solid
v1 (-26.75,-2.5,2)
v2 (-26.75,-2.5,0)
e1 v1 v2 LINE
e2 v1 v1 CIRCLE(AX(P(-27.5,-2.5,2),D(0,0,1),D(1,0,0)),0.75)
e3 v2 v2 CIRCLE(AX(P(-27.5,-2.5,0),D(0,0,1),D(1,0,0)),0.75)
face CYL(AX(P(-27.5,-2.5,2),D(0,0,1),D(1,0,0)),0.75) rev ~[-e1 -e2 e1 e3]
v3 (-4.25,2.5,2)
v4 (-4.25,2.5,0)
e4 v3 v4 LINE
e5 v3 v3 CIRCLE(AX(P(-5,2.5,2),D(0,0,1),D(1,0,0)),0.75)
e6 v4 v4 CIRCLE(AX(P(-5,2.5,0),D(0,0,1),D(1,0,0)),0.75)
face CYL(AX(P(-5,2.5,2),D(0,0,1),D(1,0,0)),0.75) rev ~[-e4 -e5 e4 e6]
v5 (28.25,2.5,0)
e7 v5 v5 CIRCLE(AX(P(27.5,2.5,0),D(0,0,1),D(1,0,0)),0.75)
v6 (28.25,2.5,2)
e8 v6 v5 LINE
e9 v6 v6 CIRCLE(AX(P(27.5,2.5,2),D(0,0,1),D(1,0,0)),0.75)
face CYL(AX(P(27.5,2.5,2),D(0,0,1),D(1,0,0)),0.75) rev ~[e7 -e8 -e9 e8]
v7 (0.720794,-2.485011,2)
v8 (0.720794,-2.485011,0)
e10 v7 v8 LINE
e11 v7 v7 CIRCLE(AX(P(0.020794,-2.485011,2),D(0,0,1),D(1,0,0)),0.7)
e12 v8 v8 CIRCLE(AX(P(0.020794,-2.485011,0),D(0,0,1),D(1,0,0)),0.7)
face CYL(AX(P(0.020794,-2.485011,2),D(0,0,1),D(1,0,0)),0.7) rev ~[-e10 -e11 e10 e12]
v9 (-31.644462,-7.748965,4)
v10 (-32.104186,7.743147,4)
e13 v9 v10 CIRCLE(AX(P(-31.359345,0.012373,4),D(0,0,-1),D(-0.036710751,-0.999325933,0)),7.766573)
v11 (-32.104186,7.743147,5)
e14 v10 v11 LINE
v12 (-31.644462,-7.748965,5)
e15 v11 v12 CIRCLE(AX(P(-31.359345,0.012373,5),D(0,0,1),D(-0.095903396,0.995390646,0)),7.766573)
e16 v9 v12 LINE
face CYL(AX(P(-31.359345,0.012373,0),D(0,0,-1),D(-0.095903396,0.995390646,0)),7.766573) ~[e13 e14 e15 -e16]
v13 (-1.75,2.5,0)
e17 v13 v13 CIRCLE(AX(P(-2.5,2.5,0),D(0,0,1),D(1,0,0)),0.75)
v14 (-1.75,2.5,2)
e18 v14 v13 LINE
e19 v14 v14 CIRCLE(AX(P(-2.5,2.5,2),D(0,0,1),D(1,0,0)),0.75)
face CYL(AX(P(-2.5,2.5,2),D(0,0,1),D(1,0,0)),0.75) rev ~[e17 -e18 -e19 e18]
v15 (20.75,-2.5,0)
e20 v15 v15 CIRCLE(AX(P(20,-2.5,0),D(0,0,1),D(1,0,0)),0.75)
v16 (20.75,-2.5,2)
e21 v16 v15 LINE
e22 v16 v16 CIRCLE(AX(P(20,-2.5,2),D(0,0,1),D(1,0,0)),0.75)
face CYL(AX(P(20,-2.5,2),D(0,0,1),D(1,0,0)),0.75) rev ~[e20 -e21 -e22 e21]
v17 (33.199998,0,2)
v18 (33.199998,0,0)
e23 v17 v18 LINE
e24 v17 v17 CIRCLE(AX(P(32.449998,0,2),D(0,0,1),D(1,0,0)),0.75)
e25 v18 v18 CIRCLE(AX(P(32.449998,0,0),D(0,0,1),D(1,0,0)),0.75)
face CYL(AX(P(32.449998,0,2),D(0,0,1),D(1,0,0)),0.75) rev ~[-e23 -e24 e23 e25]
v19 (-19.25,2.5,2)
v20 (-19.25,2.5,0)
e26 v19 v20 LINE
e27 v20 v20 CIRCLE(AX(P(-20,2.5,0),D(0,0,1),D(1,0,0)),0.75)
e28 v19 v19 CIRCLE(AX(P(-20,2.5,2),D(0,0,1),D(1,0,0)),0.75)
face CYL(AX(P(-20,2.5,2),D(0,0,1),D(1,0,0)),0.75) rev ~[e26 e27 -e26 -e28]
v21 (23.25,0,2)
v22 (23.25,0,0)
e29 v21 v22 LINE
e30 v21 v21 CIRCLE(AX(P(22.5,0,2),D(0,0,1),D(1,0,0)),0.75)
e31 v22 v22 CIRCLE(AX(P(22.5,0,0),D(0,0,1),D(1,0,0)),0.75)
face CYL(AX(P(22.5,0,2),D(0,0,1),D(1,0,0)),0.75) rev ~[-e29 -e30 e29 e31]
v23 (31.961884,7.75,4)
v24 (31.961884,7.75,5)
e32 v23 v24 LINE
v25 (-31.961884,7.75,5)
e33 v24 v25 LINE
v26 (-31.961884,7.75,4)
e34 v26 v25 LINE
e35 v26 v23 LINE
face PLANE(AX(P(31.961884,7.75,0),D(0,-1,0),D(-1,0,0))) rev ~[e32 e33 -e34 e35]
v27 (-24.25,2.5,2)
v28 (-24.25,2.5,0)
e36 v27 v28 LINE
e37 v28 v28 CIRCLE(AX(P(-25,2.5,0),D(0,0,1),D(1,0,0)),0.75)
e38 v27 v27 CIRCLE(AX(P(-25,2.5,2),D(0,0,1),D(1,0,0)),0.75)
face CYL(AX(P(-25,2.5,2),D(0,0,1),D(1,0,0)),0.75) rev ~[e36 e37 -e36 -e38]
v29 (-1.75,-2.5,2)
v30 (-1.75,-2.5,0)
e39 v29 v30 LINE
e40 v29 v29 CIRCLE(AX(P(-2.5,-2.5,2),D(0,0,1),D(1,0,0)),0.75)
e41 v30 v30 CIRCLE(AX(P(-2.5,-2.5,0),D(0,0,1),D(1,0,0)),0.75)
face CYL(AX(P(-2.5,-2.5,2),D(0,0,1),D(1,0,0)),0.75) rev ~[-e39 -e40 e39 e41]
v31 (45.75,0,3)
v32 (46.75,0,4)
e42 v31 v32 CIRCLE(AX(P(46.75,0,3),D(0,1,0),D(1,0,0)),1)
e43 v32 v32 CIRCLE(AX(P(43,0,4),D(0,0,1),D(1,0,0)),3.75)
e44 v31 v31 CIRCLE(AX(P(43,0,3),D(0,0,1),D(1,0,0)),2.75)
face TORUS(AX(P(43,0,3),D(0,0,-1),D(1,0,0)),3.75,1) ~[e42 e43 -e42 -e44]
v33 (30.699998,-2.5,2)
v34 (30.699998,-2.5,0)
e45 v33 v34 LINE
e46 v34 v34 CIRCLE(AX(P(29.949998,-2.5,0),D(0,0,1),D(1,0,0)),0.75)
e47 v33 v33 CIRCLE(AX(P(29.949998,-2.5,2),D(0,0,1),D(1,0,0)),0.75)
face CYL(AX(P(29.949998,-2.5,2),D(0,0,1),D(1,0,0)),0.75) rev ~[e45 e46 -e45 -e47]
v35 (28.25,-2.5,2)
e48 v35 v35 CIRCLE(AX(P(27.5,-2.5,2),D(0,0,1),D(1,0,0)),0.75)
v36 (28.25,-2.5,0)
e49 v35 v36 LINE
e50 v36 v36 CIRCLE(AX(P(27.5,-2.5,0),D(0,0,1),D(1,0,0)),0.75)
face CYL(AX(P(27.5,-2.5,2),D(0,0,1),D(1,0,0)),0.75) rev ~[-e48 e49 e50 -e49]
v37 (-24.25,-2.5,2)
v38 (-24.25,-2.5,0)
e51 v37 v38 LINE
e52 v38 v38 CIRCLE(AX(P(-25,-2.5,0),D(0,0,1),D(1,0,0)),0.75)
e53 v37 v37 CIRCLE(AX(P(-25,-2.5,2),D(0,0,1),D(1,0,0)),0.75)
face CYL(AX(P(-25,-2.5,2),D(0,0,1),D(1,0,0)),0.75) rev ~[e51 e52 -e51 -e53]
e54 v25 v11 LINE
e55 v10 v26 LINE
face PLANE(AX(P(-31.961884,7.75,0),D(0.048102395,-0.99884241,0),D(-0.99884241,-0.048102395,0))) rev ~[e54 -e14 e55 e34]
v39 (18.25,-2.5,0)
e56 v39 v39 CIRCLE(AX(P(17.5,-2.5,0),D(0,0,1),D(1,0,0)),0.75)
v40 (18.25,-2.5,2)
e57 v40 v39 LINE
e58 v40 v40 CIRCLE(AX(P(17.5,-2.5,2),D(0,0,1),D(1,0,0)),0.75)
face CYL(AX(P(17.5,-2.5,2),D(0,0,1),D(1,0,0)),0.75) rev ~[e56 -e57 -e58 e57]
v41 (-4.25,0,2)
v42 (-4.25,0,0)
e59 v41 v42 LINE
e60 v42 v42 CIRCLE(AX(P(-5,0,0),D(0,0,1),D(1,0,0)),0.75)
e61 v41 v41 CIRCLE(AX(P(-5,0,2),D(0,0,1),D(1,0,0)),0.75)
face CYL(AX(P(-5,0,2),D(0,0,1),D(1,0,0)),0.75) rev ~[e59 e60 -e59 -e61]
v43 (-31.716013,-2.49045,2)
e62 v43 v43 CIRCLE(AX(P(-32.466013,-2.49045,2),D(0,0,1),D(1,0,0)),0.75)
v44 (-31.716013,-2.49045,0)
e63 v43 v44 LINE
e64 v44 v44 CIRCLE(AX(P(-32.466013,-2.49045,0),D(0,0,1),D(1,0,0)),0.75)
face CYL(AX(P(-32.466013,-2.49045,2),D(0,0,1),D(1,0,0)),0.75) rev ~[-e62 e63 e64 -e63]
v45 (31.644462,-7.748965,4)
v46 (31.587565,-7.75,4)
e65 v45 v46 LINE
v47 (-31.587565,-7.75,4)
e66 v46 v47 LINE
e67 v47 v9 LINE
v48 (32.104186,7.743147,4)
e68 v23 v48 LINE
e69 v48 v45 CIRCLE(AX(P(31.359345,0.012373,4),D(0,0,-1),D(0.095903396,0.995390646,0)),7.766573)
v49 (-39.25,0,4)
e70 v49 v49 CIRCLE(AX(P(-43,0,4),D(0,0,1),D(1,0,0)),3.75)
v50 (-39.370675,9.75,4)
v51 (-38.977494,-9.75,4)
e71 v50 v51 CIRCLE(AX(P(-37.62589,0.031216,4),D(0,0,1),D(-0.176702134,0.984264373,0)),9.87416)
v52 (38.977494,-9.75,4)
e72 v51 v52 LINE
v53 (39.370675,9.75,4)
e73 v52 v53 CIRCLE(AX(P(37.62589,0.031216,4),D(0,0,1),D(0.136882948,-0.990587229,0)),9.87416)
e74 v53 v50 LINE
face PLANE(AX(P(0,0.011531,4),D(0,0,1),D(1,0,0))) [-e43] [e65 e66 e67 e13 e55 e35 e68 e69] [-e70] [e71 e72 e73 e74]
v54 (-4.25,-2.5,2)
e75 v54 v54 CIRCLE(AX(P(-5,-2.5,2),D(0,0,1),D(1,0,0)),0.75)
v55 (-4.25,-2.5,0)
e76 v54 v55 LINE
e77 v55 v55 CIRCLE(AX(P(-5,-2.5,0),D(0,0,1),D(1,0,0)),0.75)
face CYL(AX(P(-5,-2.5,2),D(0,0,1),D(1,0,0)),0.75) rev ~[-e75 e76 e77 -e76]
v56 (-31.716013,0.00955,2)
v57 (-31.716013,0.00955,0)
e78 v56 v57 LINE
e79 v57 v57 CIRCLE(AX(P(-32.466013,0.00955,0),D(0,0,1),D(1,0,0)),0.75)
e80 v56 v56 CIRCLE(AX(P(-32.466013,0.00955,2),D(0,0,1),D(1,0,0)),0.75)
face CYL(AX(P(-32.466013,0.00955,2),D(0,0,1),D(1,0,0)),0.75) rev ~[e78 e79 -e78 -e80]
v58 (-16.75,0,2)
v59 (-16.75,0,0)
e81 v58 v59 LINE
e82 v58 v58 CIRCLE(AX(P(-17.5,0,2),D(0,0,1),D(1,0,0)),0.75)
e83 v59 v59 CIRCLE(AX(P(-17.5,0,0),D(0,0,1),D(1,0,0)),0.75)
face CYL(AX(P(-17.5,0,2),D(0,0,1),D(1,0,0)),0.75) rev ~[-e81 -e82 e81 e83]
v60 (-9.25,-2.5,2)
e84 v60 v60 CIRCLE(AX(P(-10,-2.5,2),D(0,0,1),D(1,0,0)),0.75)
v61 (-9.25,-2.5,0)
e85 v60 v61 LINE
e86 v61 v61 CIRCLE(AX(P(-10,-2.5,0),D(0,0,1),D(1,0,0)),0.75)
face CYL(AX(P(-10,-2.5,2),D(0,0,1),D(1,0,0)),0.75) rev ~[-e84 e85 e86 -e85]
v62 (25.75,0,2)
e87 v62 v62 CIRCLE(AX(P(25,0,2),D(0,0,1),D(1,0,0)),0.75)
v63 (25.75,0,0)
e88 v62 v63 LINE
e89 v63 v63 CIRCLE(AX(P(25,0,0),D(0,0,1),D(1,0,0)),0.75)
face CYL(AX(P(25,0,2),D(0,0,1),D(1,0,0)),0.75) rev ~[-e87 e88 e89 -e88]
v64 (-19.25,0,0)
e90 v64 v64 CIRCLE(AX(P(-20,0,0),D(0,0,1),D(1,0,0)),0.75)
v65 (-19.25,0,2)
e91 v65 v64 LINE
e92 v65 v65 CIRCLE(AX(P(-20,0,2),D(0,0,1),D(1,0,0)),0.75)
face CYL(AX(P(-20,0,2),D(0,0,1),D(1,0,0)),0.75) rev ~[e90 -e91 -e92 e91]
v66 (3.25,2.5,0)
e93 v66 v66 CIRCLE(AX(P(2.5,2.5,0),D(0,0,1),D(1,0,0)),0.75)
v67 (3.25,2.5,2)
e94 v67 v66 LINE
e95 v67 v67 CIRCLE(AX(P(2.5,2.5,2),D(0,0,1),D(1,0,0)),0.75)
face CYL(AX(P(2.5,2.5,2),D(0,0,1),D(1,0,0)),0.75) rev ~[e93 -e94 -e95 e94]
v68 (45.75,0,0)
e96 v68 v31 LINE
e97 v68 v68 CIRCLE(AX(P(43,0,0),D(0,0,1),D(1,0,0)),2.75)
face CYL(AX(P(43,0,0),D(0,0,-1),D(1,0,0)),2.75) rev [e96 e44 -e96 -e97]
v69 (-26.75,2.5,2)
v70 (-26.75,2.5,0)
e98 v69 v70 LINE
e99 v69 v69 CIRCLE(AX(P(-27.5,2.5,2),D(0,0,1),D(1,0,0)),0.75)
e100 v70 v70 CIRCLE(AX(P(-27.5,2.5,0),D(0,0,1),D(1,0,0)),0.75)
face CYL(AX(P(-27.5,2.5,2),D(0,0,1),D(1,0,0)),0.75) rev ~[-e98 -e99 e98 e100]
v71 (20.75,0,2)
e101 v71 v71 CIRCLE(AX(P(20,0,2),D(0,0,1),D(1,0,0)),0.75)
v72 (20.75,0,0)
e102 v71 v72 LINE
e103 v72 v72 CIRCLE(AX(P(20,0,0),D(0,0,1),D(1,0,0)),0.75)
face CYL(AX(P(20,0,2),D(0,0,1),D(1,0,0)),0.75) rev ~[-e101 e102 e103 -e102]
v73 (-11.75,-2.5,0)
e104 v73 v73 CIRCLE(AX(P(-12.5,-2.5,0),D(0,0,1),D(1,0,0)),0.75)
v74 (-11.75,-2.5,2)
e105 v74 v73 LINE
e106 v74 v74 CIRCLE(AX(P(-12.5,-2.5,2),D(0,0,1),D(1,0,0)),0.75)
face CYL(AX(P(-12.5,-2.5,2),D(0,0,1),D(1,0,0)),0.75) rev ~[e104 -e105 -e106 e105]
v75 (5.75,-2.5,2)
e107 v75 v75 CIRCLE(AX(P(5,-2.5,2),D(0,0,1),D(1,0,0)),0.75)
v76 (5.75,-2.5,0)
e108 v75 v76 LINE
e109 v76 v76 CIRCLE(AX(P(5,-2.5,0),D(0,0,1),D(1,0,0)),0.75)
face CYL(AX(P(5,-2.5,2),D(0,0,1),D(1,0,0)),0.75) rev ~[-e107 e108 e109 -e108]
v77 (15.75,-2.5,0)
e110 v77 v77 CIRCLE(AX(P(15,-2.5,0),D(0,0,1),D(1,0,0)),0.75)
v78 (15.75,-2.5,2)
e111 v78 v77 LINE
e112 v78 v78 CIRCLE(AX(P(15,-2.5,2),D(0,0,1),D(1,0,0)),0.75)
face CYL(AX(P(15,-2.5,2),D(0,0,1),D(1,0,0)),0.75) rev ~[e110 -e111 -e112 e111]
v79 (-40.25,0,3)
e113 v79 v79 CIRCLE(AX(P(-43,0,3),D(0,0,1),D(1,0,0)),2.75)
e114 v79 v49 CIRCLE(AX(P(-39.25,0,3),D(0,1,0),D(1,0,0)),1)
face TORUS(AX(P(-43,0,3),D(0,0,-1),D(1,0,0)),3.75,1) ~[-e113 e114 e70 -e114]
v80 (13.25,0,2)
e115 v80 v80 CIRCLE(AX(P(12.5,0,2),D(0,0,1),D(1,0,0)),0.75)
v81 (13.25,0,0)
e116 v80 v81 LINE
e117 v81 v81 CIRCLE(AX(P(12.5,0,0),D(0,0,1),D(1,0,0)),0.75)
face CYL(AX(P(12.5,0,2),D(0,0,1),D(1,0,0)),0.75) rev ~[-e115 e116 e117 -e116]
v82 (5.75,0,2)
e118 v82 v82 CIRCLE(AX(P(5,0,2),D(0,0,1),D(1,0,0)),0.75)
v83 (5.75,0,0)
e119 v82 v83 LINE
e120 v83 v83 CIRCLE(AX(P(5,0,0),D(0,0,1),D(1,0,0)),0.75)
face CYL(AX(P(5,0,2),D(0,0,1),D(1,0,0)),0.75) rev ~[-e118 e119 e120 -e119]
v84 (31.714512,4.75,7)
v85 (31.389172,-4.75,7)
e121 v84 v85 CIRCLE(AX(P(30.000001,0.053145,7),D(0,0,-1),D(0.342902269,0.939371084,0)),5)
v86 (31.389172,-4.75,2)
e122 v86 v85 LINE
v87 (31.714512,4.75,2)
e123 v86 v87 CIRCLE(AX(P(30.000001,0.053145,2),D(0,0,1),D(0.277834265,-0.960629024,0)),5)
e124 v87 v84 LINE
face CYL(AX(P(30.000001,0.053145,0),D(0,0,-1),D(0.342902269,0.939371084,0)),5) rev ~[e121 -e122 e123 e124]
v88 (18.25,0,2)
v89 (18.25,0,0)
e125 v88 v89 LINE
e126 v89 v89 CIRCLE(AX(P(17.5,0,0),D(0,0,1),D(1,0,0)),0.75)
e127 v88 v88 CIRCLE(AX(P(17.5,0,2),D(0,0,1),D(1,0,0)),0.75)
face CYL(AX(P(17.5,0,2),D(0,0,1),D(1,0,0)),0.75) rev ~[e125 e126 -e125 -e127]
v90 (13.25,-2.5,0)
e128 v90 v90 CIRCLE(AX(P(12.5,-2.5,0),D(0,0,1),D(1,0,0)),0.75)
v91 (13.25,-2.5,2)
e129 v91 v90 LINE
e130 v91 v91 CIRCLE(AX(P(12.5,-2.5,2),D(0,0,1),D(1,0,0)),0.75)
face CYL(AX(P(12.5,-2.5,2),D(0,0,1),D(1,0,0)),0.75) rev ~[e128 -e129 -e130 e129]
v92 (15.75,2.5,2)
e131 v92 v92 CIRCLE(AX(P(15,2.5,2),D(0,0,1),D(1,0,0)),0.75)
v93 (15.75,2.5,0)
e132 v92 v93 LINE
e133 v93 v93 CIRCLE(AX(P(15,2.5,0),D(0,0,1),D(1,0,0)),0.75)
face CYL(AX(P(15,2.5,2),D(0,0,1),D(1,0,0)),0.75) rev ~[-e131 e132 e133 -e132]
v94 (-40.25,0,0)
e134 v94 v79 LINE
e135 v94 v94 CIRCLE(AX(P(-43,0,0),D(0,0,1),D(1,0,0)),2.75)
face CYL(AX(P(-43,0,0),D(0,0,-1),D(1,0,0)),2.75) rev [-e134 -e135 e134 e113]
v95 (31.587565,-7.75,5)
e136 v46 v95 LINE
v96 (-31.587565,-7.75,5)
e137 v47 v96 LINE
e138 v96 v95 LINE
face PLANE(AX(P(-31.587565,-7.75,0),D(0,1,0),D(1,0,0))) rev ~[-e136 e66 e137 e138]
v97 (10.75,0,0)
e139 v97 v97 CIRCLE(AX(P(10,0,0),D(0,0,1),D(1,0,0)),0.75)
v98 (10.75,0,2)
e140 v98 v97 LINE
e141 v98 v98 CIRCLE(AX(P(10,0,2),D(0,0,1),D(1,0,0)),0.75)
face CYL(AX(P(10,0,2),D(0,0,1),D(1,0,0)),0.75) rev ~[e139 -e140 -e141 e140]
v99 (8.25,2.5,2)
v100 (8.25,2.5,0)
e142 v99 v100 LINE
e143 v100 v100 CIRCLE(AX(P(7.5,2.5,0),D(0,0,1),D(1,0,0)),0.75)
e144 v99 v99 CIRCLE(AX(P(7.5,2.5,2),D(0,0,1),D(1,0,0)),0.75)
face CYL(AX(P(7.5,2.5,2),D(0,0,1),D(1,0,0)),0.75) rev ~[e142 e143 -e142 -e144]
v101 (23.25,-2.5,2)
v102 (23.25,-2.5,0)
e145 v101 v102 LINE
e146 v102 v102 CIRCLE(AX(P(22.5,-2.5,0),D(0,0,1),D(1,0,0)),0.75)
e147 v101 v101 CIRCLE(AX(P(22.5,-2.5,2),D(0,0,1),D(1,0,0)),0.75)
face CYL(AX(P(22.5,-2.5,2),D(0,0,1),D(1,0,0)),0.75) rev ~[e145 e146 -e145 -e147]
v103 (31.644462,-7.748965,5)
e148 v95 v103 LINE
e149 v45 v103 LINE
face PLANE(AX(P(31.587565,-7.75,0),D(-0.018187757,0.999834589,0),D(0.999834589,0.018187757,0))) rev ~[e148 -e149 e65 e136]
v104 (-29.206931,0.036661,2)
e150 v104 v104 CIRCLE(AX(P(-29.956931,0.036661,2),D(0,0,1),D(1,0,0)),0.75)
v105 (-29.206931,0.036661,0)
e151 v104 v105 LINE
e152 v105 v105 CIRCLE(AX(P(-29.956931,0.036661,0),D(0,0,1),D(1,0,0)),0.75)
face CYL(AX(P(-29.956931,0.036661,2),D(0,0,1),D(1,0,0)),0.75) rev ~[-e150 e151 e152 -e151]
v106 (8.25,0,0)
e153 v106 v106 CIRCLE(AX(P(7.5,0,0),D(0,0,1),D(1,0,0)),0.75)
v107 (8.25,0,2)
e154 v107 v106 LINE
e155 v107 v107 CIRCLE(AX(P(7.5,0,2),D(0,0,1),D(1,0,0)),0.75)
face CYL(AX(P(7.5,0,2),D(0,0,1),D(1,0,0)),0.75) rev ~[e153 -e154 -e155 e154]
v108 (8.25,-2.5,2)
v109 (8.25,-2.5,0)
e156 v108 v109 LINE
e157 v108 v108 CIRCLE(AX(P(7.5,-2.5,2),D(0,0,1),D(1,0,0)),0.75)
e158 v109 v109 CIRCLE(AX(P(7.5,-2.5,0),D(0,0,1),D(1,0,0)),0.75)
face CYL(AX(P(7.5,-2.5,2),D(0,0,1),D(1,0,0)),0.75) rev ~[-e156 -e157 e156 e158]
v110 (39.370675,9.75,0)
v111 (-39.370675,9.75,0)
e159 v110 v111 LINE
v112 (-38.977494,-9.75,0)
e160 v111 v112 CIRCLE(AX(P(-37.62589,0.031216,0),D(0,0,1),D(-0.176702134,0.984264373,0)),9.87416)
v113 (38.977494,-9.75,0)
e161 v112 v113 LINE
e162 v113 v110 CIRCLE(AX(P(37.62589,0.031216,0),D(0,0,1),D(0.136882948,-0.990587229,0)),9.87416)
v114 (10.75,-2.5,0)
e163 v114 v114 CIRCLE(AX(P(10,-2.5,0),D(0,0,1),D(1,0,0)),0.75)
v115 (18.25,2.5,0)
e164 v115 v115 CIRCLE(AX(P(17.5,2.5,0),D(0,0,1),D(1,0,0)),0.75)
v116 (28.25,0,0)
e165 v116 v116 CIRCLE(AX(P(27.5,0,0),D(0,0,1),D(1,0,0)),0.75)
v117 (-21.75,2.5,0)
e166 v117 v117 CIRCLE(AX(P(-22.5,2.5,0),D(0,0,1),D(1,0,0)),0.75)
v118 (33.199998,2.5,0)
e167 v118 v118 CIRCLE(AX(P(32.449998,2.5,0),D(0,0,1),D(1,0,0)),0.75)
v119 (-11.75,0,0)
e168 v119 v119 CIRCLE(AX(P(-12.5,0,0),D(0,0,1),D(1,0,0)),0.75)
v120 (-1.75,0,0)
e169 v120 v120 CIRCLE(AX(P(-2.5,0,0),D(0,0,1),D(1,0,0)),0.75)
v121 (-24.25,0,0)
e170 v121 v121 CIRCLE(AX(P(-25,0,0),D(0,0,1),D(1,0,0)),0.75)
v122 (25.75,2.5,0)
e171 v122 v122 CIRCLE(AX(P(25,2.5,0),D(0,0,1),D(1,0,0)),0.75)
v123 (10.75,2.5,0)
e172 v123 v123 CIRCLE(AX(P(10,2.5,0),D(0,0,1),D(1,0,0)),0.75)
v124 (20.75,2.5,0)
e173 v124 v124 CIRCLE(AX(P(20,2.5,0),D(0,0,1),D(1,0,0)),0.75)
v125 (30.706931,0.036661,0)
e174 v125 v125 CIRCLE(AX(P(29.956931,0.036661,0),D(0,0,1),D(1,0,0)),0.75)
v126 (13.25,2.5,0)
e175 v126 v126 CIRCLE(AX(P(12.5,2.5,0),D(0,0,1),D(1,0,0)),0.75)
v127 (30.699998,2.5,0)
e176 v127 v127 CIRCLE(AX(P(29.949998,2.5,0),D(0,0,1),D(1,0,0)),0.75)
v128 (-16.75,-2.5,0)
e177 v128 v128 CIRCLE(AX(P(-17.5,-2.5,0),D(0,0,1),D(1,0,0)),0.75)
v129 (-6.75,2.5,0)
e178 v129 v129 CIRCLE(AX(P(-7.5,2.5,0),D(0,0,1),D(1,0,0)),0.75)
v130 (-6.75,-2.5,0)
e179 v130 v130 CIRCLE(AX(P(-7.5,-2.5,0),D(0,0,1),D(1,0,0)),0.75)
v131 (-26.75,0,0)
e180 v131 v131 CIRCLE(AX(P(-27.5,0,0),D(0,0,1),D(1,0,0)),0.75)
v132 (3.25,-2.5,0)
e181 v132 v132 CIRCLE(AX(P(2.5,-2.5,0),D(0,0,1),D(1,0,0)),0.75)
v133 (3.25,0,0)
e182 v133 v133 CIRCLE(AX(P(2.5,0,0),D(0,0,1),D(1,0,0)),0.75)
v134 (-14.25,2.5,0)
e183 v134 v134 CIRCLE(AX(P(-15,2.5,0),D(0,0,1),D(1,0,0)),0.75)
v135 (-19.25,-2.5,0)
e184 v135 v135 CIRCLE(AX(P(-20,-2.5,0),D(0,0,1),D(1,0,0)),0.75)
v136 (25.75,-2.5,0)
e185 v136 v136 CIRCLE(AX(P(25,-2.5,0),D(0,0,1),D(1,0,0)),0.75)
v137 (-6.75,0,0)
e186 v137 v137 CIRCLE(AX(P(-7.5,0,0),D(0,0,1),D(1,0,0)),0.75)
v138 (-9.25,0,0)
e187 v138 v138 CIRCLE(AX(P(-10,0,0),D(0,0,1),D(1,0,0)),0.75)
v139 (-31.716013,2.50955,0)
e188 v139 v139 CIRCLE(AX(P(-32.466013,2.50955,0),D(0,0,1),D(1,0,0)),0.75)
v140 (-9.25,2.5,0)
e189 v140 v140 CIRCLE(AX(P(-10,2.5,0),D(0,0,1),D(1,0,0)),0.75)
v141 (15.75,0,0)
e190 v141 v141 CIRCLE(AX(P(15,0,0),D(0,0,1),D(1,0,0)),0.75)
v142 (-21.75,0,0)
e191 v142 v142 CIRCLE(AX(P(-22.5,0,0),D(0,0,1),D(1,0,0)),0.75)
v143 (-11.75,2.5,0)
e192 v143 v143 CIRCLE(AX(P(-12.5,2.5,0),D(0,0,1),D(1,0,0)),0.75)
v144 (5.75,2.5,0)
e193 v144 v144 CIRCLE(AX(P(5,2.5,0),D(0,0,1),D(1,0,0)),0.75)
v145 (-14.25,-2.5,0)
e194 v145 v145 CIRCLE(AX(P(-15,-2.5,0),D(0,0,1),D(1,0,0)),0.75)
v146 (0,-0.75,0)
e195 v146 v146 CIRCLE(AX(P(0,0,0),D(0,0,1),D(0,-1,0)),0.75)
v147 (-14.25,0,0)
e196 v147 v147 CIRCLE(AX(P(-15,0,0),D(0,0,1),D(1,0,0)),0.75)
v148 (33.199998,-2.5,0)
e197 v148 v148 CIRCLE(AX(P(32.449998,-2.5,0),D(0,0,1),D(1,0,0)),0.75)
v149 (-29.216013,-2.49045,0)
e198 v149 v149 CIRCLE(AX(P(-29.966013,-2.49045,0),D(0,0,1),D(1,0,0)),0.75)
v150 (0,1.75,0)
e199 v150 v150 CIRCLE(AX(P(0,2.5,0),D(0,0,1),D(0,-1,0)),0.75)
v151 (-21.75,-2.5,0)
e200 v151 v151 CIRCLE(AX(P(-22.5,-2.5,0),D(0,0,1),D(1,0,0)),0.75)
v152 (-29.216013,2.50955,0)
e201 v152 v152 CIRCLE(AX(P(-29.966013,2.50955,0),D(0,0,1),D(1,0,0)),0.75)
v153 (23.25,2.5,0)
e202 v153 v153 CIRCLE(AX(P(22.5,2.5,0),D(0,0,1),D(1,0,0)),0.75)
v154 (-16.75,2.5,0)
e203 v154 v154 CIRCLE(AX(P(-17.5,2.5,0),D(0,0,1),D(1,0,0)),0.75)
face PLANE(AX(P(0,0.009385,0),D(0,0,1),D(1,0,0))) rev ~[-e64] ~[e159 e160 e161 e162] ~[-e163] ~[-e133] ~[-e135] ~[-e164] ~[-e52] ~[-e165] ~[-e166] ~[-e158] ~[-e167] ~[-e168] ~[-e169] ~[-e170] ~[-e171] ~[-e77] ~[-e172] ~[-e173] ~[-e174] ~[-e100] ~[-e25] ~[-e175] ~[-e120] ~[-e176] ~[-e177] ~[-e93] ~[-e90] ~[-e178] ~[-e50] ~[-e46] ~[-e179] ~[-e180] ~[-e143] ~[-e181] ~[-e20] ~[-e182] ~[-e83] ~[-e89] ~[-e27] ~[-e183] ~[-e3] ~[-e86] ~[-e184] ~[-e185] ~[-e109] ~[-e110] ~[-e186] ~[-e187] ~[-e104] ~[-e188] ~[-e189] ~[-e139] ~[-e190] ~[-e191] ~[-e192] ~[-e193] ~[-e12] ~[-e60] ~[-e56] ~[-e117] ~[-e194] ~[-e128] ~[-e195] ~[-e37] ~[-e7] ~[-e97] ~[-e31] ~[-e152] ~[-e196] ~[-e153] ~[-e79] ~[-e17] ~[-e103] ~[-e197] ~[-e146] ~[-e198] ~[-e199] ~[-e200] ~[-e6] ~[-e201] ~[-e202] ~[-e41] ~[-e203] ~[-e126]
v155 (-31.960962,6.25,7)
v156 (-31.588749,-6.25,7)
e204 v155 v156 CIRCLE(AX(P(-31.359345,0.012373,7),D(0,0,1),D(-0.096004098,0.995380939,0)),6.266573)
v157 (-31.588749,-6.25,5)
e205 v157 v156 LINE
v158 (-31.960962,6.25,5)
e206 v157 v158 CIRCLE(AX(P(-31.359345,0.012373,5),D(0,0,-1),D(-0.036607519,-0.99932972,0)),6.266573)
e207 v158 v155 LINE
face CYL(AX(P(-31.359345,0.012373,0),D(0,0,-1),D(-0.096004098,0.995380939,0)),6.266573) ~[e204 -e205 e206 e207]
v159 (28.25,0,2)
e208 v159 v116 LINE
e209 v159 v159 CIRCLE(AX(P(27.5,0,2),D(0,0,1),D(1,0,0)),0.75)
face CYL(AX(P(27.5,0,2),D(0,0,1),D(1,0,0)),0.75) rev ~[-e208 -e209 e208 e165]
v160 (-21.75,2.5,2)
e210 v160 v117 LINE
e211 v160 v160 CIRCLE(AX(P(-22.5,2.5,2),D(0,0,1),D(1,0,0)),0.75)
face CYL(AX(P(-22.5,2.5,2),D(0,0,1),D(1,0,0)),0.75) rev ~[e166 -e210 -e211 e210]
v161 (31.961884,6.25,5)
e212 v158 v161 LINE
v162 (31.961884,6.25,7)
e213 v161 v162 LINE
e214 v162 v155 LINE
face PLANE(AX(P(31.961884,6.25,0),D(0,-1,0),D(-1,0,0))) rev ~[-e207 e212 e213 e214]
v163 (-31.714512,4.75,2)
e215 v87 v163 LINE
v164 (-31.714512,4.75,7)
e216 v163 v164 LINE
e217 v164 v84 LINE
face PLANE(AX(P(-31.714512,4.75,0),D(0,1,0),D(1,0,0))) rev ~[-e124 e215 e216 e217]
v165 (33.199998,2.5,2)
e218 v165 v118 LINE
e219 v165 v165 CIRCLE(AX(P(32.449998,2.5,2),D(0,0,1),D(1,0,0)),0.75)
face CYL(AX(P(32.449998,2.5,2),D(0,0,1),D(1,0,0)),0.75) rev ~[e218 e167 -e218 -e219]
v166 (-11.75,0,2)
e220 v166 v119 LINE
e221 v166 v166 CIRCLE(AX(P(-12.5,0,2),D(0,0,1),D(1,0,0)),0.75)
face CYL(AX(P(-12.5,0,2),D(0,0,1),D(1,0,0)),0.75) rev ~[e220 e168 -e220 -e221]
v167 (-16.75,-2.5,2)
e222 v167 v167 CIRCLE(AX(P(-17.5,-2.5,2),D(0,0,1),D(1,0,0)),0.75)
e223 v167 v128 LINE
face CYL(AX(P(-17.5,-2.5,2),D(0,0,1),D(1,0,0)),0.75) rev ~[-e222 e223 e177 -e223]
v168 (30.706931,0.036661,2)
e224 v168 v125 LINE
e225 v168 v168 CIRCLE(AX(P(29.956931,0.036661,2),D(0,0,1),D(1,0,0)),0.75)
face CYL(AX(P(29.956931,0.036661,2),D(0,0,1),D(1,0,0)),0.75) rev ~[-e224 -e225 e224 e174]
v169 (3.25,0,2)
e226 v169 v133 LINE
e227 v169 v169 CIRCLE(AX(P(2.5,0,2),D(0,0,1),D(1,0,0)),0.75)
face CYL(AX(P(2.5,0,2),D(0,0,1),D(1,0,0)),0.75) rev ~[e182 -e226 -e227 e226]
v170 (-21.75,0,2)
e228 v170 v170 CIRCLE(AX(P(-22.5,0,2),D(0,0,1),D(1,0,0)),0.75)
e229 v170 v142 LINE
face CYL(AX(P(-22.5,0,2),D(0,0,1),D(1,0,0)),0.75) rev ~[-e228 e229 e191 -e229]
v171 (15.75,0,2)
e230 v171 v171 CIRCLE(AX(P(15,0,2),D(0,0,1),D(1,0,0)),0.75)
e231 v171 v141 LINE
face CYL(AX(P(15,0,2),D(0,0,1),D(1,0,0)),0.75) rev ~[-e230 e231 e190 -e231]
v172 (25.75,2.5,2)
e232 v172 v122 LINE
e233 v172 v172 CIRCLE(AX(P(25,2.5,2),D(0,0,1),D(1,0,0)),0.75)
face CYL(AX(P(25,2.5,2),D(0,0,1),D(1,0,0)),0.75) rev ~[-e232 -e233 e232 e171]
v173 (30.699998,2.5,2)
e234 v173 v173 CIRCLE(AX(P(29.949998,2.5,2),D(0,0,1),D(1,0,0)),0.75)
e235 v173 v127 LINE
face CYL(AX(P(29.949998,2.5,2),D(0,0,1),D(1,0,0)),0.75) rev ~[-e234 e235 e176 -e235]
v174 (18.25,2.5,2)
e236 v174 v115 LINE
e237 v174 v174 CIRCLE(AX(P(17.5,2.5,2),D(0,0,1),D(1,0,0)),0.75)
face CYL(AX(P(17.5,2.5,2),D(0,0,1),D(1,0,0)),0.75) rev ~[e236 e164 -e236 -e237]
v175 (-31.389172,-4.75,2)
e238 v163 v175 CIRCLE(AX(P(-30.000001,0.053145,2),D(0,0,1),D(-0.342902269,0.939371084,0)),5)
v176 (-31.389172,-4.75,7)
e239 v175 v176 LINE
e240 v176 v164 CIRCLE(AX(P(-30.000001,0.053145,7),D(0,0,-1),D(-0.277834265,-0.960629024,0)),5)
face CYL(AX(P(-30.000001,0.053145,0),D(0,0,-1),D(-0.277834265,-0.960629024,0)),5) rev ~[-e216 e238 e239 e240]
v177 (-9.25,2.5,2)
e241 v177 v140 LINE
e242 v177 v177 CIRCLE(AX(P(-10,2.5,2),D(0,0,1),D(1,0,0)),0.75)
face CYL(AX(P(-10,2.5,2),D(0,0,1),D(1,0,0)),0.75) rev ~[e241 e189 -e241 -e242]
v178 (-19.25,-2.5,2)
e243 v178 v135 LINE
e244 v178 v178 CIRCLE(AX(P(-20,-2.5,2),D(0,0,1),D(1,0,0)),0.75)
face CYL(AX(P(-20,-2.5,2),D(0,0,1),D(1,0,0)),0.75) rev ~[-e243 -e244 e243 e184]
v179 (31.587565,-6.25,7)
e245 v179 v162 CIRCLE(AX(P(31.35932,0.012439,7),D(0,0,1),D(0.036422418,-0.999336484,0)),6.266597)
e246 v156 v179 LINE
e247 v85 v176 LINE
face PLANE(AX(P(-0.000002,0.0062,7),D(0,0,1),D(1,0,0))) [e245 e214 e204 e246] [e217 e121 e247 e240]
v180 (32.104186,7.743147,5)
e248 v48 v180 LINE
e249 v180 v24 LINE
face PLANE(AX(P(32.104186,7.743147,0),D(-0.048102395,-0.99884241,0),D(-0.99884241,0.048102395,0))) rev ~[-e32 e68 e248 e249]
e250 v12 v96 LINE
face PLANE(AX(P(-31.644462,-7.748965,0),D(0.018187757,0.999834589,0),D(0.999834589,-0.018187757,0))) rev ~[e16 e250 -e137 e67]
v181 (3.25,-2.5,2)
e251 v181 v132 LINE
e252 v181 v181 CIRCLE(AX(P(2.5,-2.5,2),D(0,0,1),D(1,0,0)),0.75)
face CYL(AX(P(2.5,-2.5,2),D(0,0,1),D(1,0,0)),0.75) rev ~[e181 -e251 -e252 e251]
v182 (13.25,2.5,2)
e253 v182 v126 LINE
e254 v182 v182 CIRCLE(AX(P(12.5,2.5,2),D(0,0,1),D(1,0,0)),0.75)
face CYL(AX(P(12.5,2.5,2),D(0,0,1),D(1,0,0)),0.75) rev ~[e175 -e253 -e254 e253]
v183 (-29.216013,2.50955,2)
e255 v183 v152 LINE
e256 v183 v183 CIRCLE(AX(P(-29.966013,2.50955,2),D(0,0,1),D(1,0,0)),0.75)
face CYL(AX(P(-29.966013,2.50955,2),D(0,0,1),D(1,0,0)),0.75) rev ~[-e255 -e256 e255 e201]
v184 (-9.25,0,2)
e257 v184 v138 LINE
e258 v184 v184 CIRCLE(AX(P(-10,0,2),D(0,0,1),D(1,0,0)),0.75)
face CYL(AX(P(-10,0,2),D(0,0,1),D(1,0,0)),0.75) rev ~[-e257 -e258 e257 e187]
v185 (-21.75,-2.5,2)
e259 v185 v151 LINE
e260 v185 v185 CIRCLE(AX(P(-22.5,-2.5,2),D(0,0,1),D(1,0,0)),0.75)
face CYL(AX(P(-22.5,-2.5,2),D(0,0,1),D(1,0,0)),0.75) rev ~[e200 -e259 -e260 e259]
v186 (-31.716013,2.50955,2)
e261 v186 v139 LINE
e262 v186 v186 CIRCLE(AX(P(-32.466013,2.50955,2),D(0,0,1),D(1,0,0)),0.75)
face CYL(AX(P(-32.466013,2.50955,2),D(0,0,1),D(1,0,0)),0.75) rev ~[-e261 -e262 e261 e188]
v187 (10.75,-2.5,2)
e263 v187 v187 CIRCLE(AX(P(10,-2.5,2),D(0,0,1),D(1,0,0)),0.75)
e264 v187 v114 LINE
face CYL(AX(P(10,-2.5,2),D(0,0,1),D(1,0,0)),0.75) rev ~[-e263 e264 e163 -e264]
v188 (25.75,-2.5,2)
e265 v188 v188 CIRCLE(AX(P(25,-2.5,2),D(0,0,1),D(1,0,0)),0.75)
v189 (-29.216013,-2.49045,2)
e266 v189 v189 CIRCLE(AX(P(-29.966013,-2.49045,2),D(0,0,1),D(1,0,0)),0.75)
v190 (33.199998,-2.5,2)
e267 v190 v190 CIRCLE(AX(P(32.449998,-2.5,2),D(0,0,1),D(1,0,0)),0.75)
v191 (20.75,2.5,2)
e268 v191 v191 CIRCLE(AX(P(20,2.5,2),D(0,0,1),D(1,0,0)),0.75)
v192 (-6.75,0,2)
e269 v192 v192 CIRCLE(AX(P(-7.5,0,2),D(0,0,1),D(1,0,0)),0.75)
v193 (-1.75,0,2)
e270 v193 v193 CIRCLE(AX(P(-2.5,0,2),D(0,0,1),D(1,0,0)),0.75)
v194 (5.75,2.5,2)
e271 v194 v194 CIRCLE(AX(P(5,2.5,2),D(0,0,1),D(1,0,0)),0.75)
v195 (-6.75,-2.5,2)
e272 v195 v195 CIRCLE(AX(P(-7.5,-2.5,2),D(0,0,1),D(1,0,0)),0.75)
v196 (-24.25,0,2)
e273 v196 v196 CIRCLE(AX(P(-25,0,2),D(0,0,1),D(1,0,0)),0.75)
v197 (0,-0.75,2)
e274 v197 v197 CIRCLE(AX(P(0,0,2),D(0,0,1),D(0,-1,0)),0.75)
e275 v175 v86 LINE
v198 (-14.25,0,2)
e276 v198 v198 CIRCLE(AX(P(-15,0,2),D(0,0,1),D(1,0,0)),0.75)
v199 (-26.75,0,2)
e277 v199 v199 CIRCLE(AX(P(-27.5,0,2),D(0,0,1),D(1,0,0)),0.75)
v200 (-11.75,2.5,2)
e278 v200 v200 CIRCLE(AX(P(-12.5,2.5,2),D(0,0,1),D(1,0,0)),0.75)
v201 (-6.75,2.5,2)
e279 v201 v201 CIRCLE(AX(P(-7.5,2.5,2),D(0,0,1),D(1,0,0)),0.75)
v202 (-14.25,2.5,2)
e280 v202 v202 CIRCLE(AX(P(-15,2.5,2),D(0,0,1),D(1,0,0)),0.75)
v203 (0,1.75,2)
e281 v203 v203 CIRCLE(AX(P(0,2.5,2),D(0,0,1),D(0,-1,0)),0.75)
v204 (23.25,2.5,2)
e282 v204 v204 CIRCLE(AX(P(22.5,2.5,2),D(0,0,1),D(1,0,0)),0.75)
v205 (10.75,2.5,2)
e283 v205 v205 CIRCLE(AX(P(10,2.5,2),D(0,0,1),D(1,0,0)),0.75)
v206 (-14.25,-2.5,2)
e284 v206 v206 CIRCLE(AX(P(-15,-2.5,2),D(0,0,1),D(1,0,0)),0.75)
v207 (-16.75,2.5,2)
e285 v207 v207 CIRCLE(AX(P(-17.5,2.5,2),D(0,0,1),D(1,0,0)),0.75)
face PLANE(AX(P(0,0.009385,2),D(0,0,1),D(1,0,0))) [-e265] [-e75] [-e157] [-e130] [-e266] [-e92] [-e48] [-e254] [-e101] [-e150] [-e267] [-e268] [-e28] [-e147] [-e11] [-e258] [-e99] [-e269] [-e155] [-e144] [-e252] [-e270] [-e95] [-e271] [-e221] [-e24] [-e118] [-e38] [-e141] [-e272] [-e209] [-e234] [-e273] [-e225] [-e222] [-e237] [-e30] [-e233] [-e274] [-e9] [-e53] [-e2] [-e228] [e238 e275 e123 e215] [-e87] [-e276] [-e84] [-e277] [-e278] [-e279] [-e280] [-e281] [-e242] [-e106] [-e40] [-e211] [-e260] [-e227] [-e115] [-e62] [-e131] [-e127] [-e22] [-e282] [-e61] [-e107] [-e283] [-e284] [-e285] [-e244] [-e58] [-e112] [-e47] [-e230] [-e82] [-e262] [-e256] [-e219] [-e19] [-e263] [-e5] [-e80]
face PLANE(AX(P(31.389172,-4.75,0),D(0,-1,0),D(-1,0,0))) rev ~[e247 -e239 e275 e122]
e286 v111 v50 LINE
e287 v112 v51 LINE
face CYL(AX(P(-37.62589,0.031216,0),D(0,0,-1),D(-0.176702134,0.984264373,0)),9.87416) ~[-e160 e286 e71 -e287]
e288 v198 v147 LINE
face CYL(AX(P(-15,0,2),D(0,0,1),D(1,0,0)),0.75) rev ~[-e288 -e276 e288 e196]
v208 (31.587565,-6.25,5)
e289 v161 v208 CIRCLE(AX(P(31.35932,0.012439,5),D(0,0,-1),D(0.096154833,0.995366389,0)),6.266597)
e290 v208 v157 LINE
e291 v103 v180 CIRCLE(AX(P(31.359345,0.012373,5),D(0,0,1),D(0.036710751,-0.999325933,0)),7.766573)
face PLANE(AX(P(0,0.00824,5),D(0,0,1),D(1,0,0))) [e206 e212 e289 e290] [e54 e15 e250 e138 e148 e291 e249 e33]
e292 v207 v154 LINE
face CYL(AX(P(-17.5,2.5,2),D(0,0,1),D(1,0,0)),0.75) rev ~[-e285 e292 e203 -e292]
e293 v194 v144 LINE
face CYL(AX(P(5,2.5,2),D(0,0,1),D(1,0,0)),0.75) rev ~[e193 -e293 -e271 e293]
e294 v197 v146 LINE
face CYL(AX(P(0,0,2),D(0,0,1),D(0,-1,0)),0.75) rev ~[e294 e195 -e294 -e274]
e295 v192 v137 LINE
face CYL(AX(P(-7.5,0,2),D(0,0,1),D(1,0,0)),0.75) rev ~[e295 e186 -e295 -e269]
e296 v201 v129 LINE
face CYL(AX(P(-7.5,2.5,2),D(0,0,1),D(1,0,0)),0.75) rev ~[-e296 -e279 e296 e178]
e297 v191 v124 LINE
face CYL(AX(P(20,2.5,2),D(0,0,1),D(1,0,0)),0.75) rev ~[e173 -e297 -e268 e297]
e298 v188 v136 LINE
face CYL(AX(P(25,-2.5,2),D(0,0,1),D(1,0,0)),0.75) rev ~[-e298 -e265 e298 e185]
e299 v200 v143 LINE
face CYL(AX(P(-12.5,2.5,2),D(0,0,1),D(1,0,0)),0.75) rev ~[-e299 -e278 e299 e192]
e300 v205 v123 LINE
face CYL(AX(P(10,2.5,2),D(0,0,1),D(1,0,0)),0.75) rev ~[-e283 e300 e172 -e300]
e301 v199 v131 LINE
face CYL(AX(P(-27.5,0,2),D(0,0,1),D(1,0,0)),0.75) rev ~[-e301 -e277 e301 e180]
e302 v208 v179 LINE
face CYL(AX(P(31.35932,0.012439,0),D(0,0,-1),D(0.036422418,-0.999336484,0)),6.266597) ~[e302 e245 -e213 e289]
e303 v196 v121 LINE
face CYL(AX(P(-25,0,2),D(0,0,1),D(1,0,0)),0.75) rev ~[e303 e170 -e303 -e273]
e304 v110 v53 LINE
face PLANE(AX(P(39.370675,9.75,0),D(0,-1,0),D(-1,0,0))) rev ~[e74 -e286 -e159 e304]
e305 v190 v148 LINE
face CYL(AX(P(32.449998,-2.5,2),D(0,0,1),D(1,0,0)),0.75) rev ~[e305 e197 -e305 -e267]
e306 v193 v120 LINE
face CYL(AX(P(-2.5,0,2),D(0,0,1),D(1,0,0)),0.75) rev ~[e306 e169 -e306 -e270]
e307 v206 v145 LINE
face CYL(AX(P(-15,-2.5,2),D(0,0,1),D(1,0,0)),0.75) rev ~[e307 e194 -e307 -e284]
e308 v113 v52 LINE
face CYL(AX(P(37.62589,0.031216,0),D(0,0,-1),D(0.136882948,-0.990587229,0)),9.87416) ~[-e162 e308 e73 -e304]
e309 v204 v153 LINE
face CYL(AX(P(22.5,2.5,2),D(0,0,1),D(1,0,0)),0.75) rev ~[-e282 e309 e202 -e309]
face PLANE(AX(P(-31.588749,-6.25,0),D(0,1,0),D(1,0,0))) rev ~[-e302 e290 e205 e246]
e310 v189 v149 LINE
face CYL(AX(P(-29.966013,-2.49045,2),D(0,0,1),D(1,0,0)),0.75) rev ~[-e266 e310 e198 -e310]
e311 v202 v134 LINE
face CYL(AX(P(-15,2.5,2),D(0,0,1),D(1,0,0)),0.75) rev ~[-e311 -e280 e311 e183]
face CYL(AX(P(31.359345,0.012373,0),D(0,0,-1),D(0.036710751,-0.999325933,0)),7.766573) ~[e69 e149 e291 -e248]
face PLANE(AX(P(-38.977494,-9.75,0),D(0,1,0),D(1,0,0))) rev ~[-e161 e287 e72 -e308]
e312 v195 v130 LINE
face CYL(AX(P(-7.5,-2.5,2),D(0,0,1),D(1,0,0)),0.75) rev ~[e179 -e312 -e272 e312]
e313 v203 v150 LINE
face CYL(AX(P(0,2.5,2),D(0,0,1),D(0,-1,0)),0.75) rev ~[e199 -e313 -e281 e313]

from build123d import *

# Parameters (mm, degrees)
F0_R     = 2.75
F1_DEPTH = 4
F2_DEPTH = 5
F3_DEPTH = 7
F4_DEPTH = 2
F5_R     = 0.75
F5_R_2   = 0.7
F6_DEPTH = 25
F7_R     = 1


with BuildPart() as f1:
    # F0 (on Top) → F1 (new body)
    with BuildSketch(Plane.XY):
        with BuildLine():
            Line((-38.977494, -9.75), (0, -9.75))
            Line((0, -9.75), (38.977494, -9.75))
            ThreePointArc((38.977494, -9.75), (47.498043, -0.167837), (39.370675, 9.75))
            Line((39.370675, 9.75), (0, 9.75))
            Line((0, 9.75), (-39.370675, 9.75))
            ThreePointArc((-39.370675, 9.75), (-47.498043, -0.167837), (-38.977494, -9.75))
        make_face()
        with Locations((-43, 0)):
            Circle(F0_R, mode=Mode.SUBTRACT)
        with BuildLine():
            ThreePointArc((-31.644462, -7.748965), (-39.122501, -0.217996), (-32.104186, 7.743147))
            Line((-32.104186, 7.743147), (-31.961884, 7.75))
            Line((-31.961884, 7.75), (0, 7.75))
            Line((0, 7.75), (31.961884, 7.75))
            Line((31.961884, 7.75), (32.104186, 7.743147))
            ThreePointArc((32.104186, 7.743147), (39.122501, -0.217996), (31.644462, -7.748965))
            Line((31.644462, -7.748965), (31.587565, -7.75))
            Line((31.587565, -7.75), (0.328864, -7.75))
            Line((0.328864, -7.75), (-0.328864, -7.75))
            Line((-0.328864, -7.75), (-31.587565, -7.75))
            Line((-31.587565, -7.75), (-31.644462, -7.748965))
        make_face(mode=Mode.SUBTRACT)
        with Locations((43, 0)):
            Circle(F0_R, mode=Mode.SUBTRACT)
    extrude(amount=F1_DEPTH)

    # F0 (on Top) → F2 (join)
    with BuildSketch(Plane.XY):
        with BuildLine():
            Line((-31.961884, 7.75), (-32.104186, 7.743147))
            ThreePointArc((-32.104186, 7.743147), (-39.122501, -0.217996), (-31.644462, -7.748965))
            Line((-31.644462, -7.748965), (-31.587565, -7.75))
            Line((-31.587565, -7.75), (-0.328864, -7.75))
            Line((-0.328864, -7.75), (0.328864, -7.75))
            Line((0.328864, -7.75), (31.587565, -7.75))
            Line((31.587565, -7.75), (31.644462, -7.748965))
            ThreePointArc((31.644462, -7.748965), (39.122501, -0.217996), (32.104186, 7.743147))
            Line((32.104186, 7.743147), (31.961884, 7.75))
            Line((31.961884, 7.75), (0, 7.75))
            Line((0, 7.75), (-31.961884, 7.75))
        make_face()
        with BuildLine():
            Line((31.587565, -6.25), (-0.328864, -6.25))
            Line((-0.328864, -6.25), (-5.279422, -6.25))
            Line((-5.279422, -6.25), (-31.588749, -6.25))
            ThreePointArc((-31.588749, -6.25), (-37.623142, -0.174144), (-31.960962, 6.25))
            Line((-31.960962, 6.25), (0, 6.25))
            Line((0, 6.25), (31.961884, 6.25))
            ThreePointArc((31.961884, 6.25), (37.62311, -0.175133), (31.587565, -6.25))
        make_face(mode=Mode.SUBTRACT)
    extrude(amount=F2_DEPTH)

    # F0 (on Top) → F3 (join)
    with BuildSketch(Plane.XY):
        with BuildLine():
            Line((-5.279422, -6.25), (-0.328864, -6.25))
            Line((-0.328864, -6.25), (31.587565, -6.25))
            ThreePointArc((31.587565, -6.25), (37.62311, -0.175133), (31.961884, 6.25))
            Line((31.961884, 6.25), (0, 6.25))
            Line((0, 6.25), (-31.960962, 6.25))
            ThreePointArc((-31.960962, 6.25), (-37.623142, -0.174144), (-31.588749, -6.25))
            Line((-31.588749, -6.25), (-5.279422, -6.25))
        make_face()
        with BuildLine():
            Line((31.389172, -4.75), (-0.328864, -4.75))
            Line((-0.328864, -4.75), (-5.279422, -4.75))
            Line((-5.279422, -4.75), (-31.389172, -4.75))
            ThreePointArc((-31.389172, -4.75), (-34.997071, -0.117987), (-31.714512, 4.75))
            Line((-31.714512, 4.75), (0, 4.75))
            Line((0, 4.75), (31.714512, 4.75))
            ThreePointArc((31.714512, 4.75), (34.997071, -0.117987), (31.389172, -4.75))
        make_face(mode=Mode.SUBTRACT)
    extrude(amount=F3_DEPTH)

    # F0 (on Top) → F4 (join)
    with BuildSketch(Plane.XY):
        with BuildLine():
            Line((-5.279422, -4.75), (-0.328864, -4.75))
            Line((-0.328864, -4.75), (31.389172, -4.75))
            ThreePointArc((31.389172, -4.75), (34.997071, -0.117987), (31.714512, 4.75))
            Line((31.714512, 4.75), (0, 4.75))
            Line((0, 4.75), (-31.714512, 4.75))
            ThreePointArc((-31.714512, 4.75), (-34.997071, -0.117987), (-31.389172, -4.75))
            Line((-31.389172, -4.75), (-5.279422, -4.75))
        make_face()
    extrude(amount=F4_DEPTH)

    # F5 (on face) → F6 (cut)
    with BuildSketch(Plane.XY.offset(2)):
        with BuildLine():
            ThreePointArc((0, 0.75), (-0.75, 0), (0, -0.75))
            ThreePointArc((0, -0.75), (0.75, 0), (0, 0.75))
        make_face()
        with BuildLine():
            ThreePointArc((0, 3.25), (-0.75, 2.5), (0, 1.75))
            ThreePointArc((0, 1.75), (0.75, 2.5), (0, 3.25))
        make_face()
        with Locations((2.5, 0)):
            Circle(F5_R)
        with Locations((2.5, 2.5)):
            Circle(F5_R)
        with Locations((5, 0)):
            Circle(F5_R)
        with Locations((5, 2.5)):
            Circle(F5_R)
        with Locations((7.5, 0)):
            Circle(F5_R)
        with Locations((7.5, 2.5)):
            Circle(F5_R)
        with Locations((10, 0)):
            Circle(F5_R)
        with Locations((10, 2.5)):
            Circle(F5_R)
        with Locations((12.5, 0)):
            Circle(F5_R)
        with Locations((12.5, 2.5)):
            Circle(F5_R)
        with Locations((15, 0)):
            Circle(F5_R)
        with Locations((15, 2.5)):
            Circle(F5_R)
        with Locations((17.5, 0)):
            Circle(F5_R)
        with Locations((17.5, 2.5)):
            Circle(F5_R)
        with Locations((20, 0)):
            Circle(F5_R)
        with Locations((20, 2.5)):
            Circle(F5_R)
        with Locations((22.5, 0)):
            Circle(F5_R)
        with Locations((22.5, 2.5)):
            Circle(F5_R)
        with Locations((25, 0)):
            Circle(F5_R)
        with Locations((25, 2.5)):
            Circle(F5_R)
        with Locations((27.5, 0)):
            Circle(F5_R)
        with Locations((27.5, 2.5)):
            Circle(F5_R)
        with Locations((2.5, -2.5)):
            Circle(F5_R)
        with Locations((5, -2.5)):
            Circle(F5_R)
        with Locations((7.5, -2.5)):
            Circle(F5_R)
        with Locations((10, -2.5)):
            Circle(F5_R)
        with Locations((12.5, -2.5)):
            Circle(F5_R)
        with Locations((15, -2.5)):
            Circle(F5_R)
        with Locations((17.5, -2.5)):
            Circle(F5_R)
        with Locations((20, -2.5)):
            Circle(F5_R)
        with Locations((22.5, -2.5)):
            Circle(F5_R)
        with Locations((25, -2.5)):
            Circle(F5_R)
        with Locations((27.5, -2.5)):
            Circle(F5_R)
        with Locations((-12.5, 0)):
            Circle(F5_R)
        with Locations((-17.5, 0)):
            Circle(F5_R)
        with Locations((-7.5, 0)):
            Circle(F5_R)
        with Locations((-5, 0)):
            Circle(F5_R)
        with Locations((-15, 0)):
            Circle(F5_R)
        with Locations((-20, 0)):
            Circle(F5_R)
        with Locations((-10, 0)):
            Circle(F5_R)
        with Locations((-12.5, 2.5)):
            Circle(F5_R)
        with Locations((-10, 2.5)):
            Circle(F5_R)
        with Locations((-7.5, 2.5)):
            Circle(F5_R)
        with Locations((-5, 2.5)):
            Circle(F5_R)
        with Locations((-2.5, 0)):
            Circle(F5_R)
        with Locations((-2.5, 2.5)):
            Circle(F5_R)
        with Locations((-17.5, 2.5)):
            Circle(F5_R)
        with Locations((-15, 2.5)):
            Circle(F5_R)
        with Locations((-20, 2.5)):
            Circle(F5_R)
        with Locations((-27.5, 0)):
            Circle(F5_R)
        with Locations((-22.5, 0)):
            Circle(F5_R)
        with Locations((-25, 0)):
            Circle(F5_R)
        with Locations((-27.5, -2.5)):
            Circle(F5_R)
        with Locations((-25, 2.5)):
            Circle(F5_R)
        with Locations((-22.5, 2.5)):
            Circle(F5_R)
        with Locations((-17.5, -2.5)):
            Circle(F5_R)
        with Locations((-27.5, 2.5)):
            Circle(F5_R)
        with Locations((-20, -2.5)):
            Circle(F5_R)
        with Locations((-22.5, -2.5)):
            Circle(F5_R)
        with Locations((-25, -2.5)):
            Circle(F5_R)
        with Locations((-2.5, -2.5)):
            Circle(F5_R)
        with Locations((-5, -2.5)):
            Circle(F5_R)
        with Locations((-7.5, -2.5)):
            Circle(F5_R)
        with Locations((-10, -2.5)):
            Circle(F5_R)
        with Locations((-12.5, -2.5)):
            Circle(F5_R)
        with Locations((-15, -2.5)):
            Circle(F5_R)
        with Locations((0.020794, -2.485011)):
            Circle(F5_R_2)
        with Locations((-29.956931, 0.036661)):
            Circle(F5_R)
        with Locations((29.956931, 0.036661)):
            Circle(F5_R)
        with Locations((29.949998, 2.5)):
            Circle(F5_R)
        with Locations((32.449998, 2.5)):
            Circle(F5_R)
        with Locations((29.949998, -2.5)):
            Circle(F5_R)
        with Locations((32.449998, 0)):
            Circle(F5_R)
        with Locations((32.449998, -2.5)):
            Circle(F5_R)
        with Locations((-32.466013, 0.00955)):
            Circle(F5_R)
        with Locations((-32.466013, -2.49045)):
            Circle(F5_R)
        with Locations((-29.966013, 2.50955)):
            Circle(F5_R)
        with Locations((-32.466013, 2.50955)):
            Circle(F5_R)
        with Locations((-29.966013, -2.49045)):
            Circle(F5_R)
    extrude(amount=-F6_DEPTH, mode=Mode.SUBTRACT)

    # F7
    f7_edges = [f1.edges().sort_by_distance(p)[0] for p in [
        (-45.75, 0, 4),
        (40.25, 0, 4),
    ]]
    fillet(f7_edges, radius=F7_R)


solid = f1.part
